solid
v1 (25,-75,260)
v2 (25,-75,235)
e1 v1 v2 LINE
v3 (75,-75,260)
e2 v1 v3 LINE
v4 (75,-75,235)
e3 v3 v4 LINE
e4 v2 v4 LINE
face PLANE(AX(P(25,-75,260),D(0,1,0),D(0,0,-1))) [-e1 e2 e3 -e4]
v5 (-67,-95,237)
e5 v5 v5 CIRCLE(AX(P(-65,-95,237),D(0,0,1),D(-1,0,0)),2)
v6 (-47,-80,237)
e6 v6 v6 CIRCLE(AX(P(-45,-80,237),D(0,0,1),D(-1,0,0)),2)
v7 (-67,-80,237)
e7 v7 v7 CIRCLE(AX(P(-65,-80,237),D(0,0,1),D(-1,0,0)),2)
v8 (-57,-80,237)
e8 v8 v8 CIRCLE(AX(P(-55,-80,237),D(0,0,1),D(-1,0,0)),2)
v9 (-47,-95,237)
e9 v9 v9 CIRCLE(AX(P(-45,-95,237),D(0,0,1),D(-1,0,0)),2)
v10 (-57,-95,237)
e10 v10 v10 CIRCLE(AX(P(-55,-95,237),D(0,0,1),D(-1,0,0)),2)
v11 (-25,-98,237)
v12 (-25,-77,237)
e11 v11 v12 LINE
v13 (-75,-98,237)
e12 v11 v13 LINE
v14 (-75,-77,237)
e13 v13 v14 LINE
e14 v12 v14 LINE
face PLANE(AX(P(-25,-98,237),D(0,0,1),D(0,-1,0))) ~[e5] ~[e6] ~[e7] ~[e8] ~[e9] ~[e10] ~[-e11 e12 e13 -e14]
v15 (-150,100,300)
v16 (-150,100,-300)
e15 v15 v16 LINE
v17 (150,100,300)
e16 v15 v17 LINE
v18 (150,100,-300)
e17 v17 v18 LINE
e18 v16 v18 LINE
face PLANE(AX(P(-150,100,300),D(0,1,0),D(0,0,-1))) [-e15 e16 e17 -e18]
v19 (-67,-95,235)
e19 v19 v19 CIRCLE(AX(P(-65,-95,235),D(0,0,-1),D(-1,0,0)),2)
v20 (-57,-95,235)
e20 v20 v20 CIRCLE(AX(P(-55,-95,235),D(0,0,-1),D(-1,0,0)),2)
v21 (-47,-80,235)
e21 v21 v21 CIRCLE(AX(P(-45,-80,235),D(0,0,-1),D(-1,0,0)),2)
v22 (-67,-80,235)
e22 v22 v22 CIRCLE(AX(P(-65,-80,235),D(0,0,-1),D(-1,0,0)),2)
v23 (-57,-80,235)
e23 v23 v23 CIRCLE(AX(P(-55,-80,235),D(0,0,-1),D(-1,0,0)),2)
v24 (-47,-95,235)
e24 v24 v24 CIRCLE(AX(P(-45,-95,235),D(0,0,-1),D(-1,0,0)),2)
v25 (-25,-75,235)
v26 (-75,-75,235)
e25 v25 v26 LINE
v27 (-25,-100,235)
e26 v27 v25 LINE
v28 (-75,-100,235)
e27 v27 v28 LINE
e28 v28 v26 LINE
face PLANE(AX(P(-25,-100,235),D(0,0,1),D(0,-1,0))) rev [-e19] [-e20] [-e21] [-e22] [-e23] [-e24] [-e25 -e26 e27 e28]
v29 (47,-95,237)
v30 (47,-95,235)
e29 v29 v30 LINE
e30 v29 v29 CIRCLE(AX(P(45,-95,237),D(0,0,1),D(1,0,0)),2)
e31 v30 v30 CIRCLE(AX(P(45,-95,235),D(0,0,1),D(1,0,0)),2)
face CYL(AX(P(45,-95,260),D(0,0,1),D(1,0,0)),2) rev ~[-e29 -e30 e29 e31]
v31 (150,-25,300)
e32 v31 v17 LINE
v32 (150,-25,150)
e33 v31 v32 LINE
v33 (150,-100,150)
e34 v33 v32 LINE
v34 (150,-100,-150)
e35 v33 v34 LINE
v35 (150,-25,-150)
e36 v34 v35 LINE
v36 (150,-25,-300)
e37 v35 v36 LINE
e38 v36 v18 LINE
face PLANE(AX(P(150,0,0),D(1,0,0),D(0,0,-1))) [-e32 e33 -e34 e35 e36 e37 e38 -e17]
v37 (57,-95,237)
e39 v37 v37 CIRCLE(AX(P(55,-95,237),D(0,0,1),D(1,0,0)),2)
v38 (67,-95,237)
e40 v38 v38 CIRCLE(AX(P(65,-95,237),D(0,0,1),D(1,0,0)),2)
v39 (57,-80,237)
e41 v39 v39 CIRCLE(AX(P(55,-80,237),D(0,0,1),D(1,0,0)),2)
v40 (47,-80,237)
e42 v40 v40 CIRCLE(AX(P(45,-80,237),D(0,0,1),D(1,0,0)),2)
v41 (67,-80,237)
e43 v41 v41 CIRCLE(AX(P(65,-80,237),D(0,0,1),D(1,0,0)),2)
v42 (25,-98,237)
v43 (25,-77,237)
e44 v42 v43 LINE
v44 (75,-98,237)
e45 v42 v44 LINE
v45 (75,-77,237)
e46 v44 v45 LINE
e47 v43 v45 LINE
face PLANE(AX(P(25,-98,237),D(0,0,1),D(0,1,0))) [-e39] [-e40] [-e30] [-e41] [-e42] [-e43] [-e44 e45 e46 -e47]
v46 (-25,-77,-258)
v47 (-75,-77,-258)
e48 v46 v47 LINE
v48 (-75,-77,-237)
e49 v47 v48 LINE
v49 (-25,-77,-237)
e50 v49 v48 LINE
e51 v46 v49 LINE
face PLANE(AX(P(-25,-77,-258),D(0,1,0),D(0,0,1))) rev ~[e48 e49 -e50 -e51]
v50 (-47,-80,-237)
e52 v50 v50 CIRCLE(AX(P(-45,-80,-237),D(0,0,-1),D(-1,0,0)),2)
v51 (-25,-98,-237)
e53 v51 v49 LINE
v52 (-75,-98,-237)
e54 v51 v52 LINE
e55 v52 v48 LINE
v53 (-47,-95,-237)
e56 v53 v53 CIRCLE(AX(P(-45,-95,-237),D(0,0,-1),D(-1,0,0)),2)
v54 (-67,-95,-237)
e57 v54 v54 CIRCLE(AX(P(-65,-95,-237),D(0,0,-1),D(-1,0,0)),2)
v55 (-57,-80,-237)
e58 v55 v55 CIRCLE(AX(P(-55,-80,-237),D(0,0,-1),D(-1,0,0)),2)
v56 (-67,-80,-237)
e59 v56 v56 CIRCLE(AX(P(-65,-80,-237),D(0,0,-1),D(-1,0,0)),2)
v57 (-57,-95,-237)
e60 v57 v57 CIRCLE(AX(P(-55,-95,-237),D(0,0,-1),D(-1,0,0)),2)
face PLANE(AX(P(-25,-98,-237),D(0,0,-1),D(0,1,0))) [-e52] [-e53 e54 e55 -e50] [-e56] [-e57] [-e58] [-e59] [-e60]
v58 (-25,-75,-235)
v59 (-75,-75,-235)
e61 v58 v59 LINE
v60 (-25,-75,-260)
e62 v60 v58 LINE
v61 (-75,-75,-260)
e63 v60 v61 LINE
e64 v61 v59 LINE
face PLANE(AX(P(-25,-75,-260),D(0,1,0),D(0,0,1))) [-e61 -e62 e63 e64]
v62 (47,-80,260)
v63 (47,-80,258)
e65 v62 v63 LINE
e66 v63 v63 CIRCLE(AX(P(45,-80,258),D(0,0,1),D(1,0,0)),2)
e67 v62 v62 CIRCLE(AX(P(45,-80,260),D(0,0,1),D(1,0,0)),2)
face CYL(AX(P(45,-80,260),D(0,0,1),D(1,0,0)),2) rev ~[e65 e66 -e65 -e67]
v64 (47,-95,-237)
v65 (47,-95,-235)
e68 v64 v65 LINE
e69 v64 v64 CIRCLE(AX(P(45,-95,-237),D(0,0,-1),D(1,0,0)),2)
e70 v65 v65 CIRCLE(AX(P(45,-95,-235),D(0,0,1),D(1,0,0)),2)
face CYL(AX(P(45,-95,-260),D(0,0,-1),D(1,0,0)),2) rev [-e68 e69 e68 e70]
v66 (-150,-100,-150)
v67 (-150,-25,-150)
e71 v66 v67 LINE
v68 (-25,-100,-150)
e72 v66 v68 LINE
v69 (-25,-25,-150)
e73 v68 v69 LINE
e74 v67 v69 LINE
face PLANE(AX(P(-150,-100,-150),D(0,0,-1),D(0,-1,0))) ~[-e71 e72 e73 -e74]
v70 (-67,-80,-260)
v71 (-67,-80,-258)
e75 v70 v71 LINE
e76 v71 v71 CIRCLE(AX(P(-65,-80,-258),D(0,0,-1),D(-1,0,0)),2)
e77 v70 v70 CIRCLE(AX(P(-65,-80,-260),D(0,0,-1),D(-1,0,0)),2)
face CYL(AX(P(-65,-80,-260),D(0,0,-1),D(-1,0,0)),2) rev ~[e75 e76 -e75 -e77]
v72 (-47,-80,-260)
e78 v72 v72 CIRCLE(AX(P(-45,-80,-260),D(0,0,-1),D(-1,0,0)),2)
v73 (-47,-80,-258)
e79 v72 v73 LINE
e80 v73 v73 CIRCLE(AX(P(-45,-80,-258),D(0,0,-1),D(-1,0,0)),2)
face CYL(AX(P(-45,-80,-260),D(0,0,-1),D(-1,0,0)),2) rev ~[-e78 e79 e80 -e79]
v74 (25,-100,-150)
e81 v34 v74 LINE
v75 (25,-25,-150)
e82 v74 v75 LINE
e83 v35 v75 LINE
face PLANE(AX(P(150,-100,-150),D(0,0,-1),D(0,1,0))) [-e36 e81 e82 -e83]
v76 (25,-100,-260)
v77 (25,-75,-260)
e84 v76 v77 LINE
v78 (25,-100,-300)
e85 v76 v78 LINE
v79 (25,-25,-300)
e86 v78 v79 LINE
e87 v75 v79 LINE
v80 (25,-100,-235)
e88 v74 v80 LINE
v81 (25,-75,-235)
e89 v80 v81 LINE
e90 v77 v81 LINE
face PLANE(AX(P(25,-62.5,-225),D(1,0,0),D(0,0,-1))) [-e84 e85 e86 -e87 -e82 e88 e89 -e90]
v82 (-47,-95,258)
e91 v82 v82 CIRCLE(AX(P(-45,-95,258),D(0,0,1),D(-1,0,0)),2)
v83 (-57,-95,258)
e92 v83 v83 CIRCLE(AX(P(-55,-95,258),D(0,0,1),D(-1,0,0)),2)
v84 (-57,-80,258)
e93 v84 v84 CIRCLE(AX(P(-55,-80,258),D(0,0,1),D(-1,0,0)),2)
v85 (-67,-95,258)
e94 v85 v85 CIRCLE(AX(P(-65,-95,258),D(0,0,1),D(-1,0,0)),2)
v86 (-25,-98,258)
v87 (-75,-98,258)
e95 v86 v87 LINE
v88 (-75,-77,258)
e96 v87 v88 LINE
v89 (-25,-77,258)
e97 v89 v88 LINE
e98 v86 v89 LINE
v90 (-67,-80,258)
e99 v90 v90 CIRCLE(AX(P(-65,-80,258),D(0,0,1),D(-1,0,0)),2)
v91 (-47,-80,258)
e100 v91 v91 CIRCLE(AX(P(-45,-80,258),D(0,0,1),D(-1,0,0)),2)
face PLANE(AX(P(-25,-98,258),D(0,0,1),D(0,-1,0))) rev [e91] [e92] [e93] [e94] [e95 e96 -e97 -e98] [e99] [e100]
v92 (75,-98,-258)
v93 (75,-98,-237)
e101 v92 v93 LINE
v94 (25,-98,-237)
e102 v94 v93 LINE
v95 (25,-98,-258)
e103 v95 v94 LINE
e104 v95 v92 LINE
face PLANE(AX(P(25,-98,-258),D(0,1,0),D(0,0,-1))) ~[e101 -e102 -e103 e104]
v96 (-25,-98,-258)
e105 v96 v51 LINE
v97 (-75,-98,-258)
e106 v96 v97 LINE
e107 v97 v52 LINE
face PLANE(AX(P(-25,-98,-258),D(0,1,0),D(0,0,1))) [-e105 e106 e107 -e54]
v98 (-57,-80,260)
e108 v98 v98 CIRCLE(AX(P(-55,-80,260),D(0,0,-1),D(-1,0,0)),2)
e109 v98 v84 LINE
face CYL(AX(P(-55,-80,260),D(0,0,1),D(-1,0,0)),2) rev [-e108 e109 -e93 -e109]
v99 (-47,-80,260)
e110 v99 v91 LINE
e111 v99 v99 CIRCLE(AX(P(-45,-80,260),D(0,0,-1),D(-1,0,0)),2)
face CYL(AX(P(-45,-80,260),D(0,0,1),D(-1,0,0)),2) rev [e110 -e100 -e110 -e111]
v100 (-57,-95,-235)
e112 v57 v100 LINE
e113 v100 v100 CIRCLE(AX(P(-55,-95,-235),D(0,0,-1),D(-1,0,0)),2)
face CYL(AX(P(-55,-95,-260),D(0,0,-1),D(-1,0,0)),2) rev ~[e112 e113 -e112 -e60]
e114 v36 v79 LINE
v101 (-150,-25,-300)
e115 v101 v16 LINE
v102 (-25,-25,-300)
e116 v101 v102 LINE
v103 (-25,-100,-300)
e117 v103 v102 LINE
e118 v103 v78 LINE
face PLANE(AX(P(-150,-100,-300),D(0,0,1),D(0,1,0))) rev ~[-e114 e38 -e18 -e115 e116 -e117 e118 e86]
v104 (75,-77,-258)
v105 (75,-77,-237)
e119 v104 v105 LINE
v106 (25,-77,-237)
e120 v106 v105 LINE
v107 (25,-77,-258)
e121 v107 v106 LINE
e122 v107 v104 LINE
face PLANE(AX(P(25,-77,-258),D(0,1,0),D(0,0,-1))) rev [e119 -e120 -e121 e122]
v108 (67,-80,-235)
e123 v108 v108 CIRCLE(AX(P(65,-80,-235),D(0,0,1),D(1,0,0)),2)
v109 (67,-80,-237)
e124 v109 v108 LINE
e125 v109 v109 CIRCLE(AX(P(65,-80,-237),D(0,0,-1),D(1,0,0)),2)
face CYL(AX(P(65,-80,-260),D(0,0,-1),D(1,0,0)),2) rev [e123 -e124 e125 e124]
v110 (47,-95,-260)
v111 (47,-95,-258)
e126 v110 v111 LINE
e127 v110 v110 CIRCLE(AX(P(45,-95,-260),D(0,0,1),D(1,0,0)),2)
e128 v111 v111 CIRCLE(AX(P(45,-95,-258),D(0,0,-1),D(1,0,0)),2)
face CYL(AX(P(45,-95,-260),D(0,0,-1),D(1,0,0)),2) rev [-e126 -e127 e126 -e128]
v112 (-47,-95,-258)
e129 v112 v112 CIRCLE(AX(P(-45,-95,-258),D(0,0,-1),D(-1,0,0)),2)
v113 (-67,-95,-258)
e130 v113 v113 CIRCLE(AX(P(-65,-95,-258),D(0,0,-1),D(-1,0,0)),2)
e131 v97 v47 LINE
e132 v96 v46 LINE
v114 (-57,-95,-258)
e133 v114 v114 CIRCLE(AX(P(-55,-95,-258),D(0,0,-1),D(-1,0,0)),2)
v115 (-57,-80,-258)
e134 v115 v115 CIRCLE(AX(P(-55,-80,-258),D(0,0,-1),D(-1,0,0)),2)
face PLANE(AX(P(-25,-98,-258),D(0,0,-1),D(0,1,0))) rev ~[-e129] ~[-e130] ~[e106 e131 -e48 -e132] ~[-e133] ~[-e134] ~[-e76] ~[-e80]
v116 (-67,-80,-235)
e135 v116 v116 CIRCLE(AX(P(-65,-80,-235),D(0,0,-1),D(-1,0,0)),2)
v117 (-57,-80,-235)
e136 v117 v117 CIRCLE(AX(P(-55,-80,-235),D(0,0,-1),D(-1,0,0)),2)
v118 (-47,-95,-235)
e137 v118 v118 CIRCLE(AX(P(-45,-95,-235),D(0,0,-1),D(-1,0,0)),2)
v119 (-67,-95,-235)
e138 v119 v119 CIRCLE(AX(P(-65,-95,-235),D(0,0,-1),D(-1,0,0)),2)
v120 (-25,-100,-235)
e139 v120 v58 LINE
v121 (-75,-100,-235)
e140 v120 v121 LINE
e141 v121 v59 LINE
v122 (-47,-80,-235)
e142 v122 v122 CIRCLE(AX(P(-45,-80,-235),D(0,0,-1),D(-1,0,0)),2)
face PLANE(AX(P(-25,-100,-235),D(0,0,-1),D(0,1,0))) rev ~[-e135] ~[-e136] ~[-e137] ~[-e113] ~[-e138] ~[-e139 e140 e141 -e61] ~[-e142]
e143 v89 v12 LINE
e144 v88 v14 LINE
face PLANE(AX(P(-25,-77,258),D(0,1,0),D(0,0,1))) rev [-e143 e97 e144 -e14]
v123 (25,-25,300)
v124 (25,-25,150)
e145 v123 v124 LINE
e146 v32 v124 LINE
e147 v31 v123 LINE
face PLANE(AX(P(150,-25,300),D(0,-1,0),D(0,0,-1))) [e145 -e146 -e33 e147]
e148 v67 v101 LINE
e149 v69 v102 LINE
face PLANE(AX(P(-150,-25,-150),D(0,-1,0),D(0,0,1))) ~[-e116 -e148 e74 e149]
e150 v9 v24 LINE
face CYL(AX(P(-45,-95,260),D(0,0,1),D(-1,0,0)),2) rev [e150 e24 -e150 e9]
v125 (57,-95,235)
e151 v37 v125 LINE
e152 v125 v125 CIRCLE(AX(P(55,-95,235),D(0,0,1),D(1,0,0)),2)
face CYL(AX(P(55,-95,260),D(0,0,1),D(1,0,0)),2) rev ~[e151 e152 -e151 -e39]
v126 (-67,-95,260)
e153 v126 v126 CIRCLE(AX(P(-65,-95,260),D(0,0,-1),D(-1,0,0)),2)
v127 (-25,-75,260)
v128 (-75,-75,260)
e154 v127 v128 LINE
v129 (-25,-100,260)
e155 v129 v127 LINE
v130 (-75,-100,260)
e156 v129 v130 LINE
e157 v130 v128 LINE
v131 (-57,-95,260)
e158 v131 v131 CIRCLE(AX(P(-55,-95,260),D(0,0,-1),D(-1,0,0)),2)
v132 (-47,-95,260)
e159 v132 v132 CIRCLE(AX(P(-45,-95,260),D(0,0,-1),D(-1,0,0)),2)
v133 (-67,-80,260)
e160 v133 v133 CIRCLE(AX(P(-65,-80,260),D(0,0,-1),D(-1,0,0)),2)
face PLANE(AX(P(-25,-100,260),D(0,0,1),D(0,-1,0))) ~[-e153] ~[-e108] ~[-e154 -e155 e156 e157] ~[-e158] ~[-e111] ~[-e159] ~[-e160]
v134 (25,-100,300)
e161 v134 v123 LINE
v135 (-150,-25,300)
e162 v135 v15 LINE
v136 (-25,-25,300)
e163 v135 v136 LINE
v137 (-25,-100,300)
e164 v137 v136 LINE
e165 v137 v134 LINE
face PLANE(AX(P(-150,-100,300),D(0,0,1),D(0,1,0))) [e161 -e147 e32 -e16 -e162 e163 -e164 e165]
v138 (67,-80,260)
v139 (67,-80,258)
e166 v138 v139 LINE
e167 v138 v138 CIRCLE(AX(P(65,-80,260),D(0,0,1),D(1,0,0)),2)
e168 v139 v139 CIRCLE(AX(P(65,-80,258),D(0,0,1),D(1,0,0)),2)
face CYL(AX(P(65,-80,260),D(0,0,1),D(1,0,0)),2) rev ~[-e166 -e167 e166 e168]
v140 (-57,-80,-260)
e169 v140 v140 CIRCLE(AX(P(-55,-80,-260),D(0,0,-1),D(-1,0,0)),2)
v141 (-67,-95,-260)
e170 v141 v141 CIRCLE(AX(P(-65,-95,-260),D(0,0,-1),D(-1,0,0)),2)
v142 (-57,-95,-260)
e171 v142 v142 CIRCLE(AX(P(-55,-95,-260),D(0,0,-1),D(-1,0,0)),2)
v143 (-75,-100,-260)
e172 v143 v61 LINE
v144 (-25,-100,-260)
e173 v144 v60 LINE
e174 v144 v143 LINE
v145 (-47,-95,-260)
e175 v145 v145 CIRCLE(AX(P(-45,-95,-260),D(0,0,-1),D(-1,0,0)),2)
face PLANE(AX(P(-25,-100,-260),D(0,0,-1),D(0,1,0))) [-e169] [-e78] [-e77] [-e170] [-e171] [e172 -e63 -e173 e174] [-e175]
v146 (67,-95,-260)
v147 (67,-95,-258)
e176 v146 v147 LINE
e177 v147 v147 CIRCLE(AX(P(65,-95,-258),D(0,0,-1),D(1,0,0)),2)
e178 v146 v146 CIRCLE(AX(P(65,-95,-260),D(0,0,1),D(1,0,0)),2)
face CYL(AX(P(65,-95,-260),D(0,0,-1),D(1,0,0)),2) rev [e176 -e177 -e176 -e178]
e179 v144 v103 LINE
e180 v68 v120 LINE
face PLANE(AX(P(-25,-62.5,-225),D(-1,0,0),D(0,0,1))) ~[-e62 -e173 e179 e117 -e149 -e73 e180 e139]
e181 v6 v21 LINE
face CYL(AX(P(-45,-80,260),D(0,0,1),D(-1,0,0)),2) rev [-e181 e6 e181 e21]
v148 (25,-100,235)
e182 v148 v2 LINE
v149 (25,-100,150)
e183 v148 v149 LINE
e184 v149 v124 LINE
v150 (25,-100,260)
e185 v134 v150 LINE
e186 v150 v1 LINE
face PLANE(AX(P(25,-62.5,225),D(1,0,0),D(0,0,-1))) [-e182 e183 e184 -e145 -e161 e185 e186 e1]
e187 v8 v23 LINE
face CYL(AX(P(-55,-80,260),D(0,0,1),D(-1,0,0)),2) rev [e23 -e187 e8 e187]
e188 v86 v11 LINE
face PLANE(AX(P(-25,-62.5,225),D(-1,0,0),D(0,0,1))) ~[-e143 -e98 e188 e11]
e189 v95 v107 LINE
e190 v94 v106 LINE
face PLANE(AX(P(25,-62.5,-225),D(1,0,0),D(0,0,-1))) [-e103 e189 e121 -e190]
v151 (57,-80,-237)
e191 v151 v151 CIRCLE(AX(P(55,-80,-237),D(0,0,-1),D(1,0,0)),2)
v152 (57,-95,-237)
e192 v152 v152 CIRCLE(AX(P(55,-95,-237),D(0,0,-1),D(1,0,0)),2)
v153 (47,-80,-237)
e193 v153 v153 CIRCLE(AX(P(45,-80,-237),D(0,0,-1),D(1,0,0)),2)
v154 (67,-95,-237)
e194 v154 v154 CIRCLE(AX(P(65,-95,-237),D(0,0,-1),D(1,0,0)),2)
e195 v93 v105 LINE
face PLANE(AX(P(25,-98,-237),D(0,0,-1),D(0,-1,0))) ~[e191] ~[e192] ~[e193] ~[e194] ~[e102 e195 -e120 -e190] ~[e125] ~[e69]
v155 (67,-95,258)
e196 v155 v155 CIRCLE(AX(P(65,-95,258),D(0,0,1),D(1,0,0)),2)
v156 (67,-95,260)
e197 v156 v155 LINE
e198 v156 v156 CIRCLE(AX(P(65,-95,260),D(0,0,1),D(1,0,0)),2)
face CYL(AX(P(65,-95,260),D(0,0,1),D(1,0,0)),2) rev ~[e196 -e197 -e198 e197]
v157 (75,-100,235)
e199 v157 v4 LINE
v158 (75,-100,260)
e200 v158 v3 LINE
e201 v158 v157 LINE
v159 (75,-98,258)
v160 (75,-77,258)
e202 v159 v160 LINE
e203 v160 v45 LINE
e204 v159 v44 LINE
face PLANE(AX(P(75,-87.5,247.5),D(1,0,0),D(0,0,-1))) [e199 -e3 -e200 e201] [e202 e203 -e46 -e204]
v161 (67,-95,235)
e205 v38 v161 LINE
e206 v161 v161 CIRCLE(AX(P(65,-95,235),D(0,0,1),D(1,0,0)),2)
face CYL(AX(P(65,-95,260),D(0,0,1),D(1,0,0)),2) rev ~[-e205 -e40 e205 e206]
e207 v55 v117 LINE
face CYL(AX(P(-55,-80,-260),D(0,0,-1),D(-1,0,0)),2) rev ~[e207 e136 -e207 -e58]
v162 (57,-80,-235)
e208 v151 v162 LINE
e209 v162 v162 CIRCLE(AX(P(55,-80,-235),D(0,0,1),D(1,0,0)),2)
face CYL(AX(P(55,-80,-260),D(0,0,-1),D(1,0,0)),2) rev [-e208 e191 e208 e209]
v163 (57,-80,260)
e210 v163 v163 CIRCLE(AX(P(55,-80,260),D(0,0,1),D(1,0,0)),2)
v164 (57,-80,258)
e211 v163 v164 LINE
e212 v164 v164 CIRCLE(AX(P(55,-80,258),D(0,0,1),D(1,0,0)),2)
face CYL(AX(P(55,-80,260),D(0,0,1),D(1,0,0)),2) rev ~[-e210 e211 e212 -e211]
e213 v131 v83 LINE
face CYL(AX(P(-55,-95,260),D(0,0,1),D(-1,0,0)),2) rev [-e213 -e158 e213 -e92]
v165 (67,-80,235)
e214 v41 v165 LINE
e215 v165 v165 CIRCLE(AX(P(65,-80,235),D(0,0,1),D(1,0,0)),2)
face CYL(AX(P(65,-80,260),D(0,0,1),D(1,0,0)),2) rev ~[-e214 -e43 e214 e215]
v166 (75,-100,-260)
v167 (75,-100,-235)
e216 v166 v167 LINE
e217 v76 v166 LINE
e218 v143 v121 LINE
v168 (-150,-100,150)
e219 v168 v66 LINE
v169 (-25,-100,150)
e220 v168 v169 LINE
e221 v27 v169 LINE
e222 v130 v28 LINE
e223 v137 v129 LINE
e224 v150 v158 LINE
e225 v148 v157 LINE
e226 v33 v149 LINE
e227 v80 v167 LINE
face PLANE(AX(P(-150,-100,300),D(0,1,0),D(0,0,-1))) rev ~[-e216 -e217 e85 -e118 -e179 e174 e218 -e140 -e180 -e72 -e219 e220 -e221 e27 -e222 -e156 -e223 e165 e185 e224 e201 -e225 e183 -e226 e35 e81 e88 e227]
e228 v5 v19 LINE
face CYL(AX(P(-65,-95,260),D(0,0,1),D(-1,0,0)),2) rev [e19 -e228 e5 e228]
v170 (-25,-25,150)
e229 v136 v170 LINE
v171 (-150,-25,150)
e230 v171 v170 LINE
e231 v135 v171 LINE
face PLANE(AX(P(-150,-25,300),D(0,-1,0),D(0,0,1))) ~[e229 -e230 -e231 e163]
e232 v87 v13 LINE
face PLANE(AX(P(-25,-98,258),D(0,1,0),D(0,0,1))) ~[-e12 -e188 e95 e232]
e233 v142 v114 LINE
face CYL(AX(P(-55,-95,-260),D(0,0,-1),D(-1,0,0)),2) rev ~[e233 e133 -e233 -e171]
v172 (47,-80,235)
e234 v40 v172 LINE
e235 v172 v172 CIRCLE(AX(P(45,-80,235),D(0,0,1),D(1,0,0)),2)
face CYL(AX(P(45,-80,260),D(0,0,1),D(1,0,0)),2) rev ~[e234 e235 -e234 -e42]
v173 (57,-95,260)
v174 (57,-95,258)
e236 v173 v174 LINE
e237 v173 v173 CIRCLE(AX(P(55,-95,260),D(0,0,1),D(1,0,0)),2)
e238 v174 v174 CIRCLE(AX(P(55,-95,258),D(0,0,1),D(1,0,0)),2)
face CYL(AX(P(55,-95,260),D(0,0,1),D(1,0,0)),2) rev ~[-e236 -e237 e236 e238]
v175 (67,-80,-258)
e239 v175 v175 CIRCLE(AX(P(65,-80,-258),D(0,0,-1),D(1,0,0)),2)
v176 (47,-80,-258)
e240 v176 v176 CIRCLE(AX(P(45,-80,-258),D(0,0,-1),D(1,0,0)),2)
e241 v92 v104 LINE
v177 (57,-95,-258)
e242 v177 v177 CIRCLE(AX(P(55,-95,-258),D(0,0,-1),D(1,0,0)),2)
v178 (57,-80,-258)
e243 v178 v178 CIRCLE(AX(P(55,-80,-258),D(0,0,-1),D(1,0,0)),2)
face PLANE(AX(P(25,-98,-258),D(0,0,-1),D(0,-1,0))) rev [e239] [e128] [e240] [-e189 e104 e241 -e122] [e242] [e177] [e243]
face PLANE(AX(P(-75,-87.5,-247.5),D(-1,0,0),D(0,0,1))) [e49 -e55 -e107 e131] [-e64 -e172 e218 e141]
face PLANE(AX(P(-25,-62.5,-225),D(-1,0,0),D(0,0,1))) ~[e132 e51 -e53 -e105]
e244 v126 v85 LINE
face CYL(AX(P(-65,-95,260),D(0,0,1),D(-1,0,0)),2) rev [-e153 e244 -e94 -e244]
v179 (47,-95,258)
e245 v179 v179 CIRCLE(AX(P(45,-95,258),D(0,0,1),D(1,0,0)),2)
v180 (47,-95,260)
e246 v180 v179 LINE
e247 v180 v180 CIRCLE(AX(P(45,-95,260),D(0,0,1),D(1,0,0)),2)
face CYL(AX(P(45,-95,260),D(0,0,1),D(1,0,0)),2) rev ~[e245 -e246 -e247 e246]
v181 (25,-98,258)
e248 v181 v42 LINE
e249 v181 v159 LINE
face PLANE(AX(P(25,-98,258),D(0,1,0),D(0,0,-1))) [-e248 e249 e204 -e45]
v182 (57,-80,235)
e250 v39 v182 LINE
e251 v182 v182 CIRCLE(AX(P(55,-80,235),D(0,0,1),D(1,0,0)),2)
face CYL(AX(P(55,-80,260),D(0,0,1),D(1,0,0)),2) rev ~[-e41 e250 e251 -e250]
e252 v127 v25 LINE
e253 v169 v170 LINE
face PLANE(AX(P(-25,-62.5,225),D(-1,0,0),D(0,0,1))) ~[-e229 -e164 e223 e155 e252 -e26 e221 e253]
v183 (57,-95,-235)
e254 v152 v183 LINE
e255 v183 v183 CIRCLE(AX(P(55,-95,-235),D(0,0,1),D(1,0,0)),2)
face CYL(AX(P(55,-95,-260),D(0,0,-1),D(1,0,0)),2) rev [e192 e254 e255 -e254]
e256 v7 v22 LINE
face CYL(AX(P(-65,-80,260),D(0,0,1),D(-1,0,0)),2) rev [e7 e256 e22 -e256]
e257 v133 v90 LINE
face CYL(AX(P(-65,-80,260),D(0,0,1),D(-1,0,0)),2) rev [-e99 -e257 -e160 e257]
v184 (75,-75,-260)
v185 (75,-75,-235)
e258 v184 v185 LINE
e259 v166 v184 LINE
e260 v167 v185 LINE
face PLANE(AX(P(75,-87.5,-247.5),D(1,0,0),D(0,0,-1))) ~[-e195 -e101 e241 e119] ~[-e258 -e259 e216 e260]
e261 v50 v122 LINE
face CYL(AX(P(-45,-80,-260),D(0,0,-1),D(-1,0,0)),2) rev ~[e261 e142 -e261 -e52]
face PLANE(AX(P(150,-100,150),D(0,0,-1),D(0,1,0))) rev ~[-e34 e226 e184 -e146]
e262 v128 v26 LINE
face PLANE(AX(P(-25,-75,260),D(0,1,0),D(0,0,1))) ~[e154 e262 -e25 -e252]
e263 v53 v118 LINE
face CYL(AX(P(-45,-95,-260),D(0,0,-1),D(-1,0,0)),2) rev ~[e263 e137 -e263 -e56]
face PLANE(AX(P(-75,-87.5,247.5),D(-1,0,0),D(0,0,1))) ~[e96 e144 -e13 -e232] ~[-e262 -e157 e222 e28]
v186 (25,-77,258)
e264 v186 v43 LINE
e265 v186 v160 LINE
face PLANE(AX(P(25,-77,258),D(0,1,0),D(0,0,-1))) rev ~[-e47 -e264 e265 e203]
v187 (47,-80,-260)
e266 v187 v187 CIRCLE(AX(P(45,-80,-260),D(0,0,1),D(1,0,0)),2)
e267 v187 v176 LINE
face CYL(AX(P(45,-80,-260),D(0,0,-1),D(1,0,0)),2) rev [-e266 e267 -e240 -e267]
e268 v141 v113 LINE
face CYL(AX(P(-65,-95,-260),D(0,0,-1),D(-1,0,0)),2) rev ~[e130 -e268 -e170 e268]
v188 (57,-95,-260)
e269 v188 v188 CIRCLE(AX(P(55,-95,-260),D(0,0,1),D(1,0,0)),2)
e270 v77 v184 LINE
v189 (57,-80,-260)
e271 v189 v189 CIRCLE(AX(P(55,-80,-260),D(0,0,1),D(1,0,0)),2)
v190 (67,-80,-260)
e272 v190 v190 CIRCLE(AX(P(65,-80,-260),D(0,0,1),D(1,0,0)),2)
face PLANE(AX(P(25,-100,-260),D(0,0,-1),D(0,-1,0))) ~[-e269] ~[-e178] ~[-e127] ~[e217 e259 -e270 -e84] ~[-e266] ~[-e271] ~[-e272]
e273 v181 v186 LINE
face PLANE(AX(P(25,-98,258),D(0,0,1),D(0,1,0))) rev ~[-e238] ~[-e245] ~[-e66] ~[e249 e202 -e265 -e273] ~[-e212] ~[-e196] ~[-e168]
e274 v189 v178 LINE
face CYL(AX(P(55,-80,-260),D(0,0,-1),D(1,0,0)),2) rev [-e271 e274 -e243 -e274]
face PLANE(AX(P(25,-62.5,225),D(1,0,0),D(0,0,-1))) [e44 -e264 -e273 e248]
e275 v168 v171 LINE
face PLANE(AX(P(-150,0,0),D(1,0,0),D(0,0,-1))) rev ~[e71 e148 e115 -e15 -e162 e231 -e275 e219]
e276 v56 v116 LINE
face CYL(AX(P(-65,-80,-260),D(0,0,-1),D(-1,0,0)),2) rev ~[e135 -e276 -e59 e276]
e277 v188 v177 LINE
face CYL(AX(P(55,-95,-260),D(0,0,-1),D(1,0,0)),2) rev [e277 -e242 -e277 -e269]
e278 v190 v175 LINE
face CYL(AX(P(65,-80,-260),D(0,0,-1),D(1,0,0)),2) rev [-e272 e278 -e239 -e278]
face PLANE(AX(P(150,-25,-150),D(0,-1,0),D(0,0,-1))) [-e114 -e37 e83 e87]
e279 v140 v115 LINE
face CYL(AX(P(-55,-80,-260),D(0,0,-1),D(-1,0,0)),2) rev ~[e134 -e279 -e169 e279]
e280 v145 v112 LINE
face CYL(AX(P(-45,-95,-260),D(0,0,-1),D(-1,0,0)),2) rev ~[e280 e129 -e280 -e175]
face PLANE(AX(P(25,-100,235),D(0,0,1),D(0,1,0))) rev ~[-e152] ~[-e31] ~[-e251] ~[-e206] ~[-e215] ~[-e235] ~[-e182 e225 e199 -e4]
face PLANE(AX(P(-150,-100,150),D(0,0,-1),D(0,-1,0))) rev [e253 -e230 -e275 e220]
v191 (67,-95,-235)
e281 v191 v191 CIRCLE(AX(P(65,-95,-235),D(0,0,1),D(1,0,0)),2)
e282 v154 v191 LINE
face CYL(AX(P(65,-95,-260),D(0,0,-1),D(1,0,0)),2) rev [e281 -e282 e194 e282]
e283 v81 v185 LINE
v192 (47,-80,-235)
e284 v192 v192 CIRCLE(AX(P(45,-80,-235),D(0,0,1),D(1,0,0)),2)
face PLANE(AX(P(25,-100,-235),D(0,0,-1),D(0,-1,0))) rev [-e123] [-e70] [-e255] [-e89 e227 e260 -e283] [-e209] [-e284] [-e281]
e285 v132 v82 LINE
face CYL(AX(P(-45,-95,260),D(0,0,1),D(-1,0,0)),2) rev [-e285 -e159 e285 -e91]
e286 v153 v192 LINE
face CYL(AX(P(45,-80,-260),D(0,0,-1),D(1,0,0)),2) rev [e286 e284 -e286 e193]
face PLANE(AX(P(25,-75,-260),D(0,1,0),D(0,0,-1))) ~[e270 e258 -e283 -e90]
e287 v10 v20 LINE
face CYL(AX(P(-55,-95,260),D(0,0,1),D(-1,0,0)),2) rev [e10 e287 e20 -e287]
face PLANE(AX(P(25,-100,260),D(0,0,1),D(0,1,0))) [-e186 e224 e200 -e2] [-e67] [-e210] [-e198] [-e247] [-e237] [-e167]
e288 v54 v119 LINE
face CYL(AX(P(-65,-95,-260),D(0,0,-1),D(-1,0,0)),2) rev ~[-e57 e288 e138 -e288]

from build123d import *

# Parameters (mm, degrees)
BOSS_EXTRUDE1_DEPTH       = 150
BOSS_EXTRUDE1_DEPTH_BACK  = 150
SKETCH2_W                 = 600
SKETCH2_H                 = 200
SKETCH3_W                 = 150
SKETCH3_H                 = 75
CUT_EXTRUDE1_DEPTH        = 125
SKETCH4_W                 = 25
SKETCH4_H                 = 25
SKETCH4_W_2               = 21
SKETCH4_H_2               = 21
BOSS_EXTRUDE2_DEPTH       = 50
SKETCH5_R                 = 2
CUT_EXTRUDE2_DEPTH        = 25
MIRROR3_COPY_1_SKETCH_W   = 25
MIRROR3_COPY_1_SKETCH_H   = 25
MIRROR3_COPY_1_SKETCH_W_2 = 21
MIRROR3_COPY_1_SKETCH_H_2 = 21
MIRROR3_COPY_1_DEPTH      = 50
MIRROR3_COPY_2_SKETCH_R   = 2
MIRROR3_COPY_2_DEPTH      = 25


with BuildPart() as part:
    # Sketch2 → Boss-Extrude1 (new, two sides: drawn at the far end of the back side and taken through both)
    with BuildSketch(Plane(origin=(0, 0, 0), x_dir=(0, 0, -1), z_dir=(1, 0, 0)).offset(-BOSS_EXTRUDE1_DEPTH_BACK)):
        Rectangle(SKETCH2_W, SKETCH2_H)
    extrude(amount=BOSS_EXTRUDE1_DEPTH + BOSS_EXTRUDE1_DEPTH_BACK)

    # Sketch3 → Cut-Extrude1 (cut)
    with BuildSketch(Plane(origin=(150, 0, 0), x_dir=(0, 0, -1), z_dir=(1, 0, 0))):
        with Locations((-225, -62.5)):
            Rectangle(SKETCH3_W, SKETCH3_H)
        with Locations((225, -62.5)):
            Rectangle(SKETCH3_W, SKETCH3_H)
    cut_extrude1 = extrude(amount=-CUT_EXTRUDE1_DEPTH, mode=Mode.SUBTRACT)

    # Mirror1: Cut-Extrude1 across plane
    add(cut_extrude1.mirror(Plane(origin=(0, 0, 0), x_dir=(0, 0, 1), z_dir=(1, 0, 0))), mode=Mode.SUBTRACT)

    # Sketch4 → Boss-Extrude2 (add)
    with BuildSketch(Plane(origin=(25, 0, 0), x_dir=(0, 0, -1), z_dir=(1, 0, 0))):
        with Locations((-247.5, -87.5)):
            Rectangle(SKETCH4_W, SKETCH4_H)
        with Locations((-247.5, -87.5)):
            Rectangle(SKETCH4_W_2, SKETCH4_H_2, mode=Mode.SUBTRACT)
    boss_extrude2 = extrude(amount=BOSS_EXTRUDE2_DEPTH)

    # Sketch5 → Cut-Extrude2 (cut)
    with BuildSketch(Plane.XY.offset(260)):
        with Locations((65, -80)):
            Circle(SKETCH5_R)
        with Locations((55, -80)):
            Circle(SKETCH5_R)
        with Locations((45, -80)):
            Circle(SKETCH5_R)
        with Locations((65, -95)):
            Circle(SKETCH5_R)
        with Locations((55, -95)):
            Circle(SKETCH5_R)
        with Locations((45, -95)):
            Circle(SKETCH5_R)
    cut_extrude2 = extrude(amount=-CUT_EXTRUDE2_DEPTH, mode=Mode.SUBTRACT)

    # Mirror2: Boss-Extrude2, Cut-Extrude2 across plane
    add(boss_extrude2.mirror(Plane(origin=(0, 0, 0), x_dir=(0, 0, 1), z_dir=(1, 0, 0))))
    add(cut_extrude2.mirror(Plane(origin=(0, 0, 0), x_dir=(0, 0, 1), z_dir=(1, 0, 0))), mode=Mode.SUBTRACT)

    # Mirror3: Boss-Extrude2, Cut-Extrude2 across plane
    add(boss_extrude2.mirror(Plane.XY))
    add(cut_extrude2.mirror(Plane.XY), mode=Mode.SUBTRACT)

    # Mirror3 copy 1 sketch → Mirror3 copy 1 (add)
    with BuildSketch(Plane.ZY.offset(25)):
        with Locations((-247.5, -87.5)):
            Rectangle(MIRROR3_COPY_1_SKETCH_W, MIRROR3_COPY_1_SKETCH_H)
        with Locations((-247.5, -87.5)):
            Rectangle(MIRROR3_COPY_1_SKETCH_W_2, MIRROR3_COPY_1_SKETCH_H_2, mode=Mode.SUBTRACT)
    extrude(amount=MIRROR3_COPY_1_DEPTH)

    # Mirror3 copy 2 sketch → Mirror3 copy 2 (cut)
    with BuildSketch(Plane(origin=(0, 0, -260), x_dir=(-1, 0, 0), z_dir=(0, 0, -1))):
        with Locations((65, -80)):
            Circle(MIRROR3_COPY_2_SKETCH_R)
        with Locations((55, -80)):
            Circle(MIRROR3_COPY_2_SKETCH_R)
        with Locations((45, -80)):
            Circle(MIRROR3_COPY_2_SKETCH_R)
        with Locations((65, -95)):
            Circle(MIRROR3_COPY_2_SKETCH_R)
        with Locations((55, -95)):
            Circle(MIRROR3_COPY_2_SKETCH_R)
        with Locations((45, -95)):
            Circle(MIRROR3_COPY_2_SKETCH_R)
    extrude(amount=-MIRROR3_COPY_2_DEPTH, mode=Mode.SUBTRACT)


solid = part.part
